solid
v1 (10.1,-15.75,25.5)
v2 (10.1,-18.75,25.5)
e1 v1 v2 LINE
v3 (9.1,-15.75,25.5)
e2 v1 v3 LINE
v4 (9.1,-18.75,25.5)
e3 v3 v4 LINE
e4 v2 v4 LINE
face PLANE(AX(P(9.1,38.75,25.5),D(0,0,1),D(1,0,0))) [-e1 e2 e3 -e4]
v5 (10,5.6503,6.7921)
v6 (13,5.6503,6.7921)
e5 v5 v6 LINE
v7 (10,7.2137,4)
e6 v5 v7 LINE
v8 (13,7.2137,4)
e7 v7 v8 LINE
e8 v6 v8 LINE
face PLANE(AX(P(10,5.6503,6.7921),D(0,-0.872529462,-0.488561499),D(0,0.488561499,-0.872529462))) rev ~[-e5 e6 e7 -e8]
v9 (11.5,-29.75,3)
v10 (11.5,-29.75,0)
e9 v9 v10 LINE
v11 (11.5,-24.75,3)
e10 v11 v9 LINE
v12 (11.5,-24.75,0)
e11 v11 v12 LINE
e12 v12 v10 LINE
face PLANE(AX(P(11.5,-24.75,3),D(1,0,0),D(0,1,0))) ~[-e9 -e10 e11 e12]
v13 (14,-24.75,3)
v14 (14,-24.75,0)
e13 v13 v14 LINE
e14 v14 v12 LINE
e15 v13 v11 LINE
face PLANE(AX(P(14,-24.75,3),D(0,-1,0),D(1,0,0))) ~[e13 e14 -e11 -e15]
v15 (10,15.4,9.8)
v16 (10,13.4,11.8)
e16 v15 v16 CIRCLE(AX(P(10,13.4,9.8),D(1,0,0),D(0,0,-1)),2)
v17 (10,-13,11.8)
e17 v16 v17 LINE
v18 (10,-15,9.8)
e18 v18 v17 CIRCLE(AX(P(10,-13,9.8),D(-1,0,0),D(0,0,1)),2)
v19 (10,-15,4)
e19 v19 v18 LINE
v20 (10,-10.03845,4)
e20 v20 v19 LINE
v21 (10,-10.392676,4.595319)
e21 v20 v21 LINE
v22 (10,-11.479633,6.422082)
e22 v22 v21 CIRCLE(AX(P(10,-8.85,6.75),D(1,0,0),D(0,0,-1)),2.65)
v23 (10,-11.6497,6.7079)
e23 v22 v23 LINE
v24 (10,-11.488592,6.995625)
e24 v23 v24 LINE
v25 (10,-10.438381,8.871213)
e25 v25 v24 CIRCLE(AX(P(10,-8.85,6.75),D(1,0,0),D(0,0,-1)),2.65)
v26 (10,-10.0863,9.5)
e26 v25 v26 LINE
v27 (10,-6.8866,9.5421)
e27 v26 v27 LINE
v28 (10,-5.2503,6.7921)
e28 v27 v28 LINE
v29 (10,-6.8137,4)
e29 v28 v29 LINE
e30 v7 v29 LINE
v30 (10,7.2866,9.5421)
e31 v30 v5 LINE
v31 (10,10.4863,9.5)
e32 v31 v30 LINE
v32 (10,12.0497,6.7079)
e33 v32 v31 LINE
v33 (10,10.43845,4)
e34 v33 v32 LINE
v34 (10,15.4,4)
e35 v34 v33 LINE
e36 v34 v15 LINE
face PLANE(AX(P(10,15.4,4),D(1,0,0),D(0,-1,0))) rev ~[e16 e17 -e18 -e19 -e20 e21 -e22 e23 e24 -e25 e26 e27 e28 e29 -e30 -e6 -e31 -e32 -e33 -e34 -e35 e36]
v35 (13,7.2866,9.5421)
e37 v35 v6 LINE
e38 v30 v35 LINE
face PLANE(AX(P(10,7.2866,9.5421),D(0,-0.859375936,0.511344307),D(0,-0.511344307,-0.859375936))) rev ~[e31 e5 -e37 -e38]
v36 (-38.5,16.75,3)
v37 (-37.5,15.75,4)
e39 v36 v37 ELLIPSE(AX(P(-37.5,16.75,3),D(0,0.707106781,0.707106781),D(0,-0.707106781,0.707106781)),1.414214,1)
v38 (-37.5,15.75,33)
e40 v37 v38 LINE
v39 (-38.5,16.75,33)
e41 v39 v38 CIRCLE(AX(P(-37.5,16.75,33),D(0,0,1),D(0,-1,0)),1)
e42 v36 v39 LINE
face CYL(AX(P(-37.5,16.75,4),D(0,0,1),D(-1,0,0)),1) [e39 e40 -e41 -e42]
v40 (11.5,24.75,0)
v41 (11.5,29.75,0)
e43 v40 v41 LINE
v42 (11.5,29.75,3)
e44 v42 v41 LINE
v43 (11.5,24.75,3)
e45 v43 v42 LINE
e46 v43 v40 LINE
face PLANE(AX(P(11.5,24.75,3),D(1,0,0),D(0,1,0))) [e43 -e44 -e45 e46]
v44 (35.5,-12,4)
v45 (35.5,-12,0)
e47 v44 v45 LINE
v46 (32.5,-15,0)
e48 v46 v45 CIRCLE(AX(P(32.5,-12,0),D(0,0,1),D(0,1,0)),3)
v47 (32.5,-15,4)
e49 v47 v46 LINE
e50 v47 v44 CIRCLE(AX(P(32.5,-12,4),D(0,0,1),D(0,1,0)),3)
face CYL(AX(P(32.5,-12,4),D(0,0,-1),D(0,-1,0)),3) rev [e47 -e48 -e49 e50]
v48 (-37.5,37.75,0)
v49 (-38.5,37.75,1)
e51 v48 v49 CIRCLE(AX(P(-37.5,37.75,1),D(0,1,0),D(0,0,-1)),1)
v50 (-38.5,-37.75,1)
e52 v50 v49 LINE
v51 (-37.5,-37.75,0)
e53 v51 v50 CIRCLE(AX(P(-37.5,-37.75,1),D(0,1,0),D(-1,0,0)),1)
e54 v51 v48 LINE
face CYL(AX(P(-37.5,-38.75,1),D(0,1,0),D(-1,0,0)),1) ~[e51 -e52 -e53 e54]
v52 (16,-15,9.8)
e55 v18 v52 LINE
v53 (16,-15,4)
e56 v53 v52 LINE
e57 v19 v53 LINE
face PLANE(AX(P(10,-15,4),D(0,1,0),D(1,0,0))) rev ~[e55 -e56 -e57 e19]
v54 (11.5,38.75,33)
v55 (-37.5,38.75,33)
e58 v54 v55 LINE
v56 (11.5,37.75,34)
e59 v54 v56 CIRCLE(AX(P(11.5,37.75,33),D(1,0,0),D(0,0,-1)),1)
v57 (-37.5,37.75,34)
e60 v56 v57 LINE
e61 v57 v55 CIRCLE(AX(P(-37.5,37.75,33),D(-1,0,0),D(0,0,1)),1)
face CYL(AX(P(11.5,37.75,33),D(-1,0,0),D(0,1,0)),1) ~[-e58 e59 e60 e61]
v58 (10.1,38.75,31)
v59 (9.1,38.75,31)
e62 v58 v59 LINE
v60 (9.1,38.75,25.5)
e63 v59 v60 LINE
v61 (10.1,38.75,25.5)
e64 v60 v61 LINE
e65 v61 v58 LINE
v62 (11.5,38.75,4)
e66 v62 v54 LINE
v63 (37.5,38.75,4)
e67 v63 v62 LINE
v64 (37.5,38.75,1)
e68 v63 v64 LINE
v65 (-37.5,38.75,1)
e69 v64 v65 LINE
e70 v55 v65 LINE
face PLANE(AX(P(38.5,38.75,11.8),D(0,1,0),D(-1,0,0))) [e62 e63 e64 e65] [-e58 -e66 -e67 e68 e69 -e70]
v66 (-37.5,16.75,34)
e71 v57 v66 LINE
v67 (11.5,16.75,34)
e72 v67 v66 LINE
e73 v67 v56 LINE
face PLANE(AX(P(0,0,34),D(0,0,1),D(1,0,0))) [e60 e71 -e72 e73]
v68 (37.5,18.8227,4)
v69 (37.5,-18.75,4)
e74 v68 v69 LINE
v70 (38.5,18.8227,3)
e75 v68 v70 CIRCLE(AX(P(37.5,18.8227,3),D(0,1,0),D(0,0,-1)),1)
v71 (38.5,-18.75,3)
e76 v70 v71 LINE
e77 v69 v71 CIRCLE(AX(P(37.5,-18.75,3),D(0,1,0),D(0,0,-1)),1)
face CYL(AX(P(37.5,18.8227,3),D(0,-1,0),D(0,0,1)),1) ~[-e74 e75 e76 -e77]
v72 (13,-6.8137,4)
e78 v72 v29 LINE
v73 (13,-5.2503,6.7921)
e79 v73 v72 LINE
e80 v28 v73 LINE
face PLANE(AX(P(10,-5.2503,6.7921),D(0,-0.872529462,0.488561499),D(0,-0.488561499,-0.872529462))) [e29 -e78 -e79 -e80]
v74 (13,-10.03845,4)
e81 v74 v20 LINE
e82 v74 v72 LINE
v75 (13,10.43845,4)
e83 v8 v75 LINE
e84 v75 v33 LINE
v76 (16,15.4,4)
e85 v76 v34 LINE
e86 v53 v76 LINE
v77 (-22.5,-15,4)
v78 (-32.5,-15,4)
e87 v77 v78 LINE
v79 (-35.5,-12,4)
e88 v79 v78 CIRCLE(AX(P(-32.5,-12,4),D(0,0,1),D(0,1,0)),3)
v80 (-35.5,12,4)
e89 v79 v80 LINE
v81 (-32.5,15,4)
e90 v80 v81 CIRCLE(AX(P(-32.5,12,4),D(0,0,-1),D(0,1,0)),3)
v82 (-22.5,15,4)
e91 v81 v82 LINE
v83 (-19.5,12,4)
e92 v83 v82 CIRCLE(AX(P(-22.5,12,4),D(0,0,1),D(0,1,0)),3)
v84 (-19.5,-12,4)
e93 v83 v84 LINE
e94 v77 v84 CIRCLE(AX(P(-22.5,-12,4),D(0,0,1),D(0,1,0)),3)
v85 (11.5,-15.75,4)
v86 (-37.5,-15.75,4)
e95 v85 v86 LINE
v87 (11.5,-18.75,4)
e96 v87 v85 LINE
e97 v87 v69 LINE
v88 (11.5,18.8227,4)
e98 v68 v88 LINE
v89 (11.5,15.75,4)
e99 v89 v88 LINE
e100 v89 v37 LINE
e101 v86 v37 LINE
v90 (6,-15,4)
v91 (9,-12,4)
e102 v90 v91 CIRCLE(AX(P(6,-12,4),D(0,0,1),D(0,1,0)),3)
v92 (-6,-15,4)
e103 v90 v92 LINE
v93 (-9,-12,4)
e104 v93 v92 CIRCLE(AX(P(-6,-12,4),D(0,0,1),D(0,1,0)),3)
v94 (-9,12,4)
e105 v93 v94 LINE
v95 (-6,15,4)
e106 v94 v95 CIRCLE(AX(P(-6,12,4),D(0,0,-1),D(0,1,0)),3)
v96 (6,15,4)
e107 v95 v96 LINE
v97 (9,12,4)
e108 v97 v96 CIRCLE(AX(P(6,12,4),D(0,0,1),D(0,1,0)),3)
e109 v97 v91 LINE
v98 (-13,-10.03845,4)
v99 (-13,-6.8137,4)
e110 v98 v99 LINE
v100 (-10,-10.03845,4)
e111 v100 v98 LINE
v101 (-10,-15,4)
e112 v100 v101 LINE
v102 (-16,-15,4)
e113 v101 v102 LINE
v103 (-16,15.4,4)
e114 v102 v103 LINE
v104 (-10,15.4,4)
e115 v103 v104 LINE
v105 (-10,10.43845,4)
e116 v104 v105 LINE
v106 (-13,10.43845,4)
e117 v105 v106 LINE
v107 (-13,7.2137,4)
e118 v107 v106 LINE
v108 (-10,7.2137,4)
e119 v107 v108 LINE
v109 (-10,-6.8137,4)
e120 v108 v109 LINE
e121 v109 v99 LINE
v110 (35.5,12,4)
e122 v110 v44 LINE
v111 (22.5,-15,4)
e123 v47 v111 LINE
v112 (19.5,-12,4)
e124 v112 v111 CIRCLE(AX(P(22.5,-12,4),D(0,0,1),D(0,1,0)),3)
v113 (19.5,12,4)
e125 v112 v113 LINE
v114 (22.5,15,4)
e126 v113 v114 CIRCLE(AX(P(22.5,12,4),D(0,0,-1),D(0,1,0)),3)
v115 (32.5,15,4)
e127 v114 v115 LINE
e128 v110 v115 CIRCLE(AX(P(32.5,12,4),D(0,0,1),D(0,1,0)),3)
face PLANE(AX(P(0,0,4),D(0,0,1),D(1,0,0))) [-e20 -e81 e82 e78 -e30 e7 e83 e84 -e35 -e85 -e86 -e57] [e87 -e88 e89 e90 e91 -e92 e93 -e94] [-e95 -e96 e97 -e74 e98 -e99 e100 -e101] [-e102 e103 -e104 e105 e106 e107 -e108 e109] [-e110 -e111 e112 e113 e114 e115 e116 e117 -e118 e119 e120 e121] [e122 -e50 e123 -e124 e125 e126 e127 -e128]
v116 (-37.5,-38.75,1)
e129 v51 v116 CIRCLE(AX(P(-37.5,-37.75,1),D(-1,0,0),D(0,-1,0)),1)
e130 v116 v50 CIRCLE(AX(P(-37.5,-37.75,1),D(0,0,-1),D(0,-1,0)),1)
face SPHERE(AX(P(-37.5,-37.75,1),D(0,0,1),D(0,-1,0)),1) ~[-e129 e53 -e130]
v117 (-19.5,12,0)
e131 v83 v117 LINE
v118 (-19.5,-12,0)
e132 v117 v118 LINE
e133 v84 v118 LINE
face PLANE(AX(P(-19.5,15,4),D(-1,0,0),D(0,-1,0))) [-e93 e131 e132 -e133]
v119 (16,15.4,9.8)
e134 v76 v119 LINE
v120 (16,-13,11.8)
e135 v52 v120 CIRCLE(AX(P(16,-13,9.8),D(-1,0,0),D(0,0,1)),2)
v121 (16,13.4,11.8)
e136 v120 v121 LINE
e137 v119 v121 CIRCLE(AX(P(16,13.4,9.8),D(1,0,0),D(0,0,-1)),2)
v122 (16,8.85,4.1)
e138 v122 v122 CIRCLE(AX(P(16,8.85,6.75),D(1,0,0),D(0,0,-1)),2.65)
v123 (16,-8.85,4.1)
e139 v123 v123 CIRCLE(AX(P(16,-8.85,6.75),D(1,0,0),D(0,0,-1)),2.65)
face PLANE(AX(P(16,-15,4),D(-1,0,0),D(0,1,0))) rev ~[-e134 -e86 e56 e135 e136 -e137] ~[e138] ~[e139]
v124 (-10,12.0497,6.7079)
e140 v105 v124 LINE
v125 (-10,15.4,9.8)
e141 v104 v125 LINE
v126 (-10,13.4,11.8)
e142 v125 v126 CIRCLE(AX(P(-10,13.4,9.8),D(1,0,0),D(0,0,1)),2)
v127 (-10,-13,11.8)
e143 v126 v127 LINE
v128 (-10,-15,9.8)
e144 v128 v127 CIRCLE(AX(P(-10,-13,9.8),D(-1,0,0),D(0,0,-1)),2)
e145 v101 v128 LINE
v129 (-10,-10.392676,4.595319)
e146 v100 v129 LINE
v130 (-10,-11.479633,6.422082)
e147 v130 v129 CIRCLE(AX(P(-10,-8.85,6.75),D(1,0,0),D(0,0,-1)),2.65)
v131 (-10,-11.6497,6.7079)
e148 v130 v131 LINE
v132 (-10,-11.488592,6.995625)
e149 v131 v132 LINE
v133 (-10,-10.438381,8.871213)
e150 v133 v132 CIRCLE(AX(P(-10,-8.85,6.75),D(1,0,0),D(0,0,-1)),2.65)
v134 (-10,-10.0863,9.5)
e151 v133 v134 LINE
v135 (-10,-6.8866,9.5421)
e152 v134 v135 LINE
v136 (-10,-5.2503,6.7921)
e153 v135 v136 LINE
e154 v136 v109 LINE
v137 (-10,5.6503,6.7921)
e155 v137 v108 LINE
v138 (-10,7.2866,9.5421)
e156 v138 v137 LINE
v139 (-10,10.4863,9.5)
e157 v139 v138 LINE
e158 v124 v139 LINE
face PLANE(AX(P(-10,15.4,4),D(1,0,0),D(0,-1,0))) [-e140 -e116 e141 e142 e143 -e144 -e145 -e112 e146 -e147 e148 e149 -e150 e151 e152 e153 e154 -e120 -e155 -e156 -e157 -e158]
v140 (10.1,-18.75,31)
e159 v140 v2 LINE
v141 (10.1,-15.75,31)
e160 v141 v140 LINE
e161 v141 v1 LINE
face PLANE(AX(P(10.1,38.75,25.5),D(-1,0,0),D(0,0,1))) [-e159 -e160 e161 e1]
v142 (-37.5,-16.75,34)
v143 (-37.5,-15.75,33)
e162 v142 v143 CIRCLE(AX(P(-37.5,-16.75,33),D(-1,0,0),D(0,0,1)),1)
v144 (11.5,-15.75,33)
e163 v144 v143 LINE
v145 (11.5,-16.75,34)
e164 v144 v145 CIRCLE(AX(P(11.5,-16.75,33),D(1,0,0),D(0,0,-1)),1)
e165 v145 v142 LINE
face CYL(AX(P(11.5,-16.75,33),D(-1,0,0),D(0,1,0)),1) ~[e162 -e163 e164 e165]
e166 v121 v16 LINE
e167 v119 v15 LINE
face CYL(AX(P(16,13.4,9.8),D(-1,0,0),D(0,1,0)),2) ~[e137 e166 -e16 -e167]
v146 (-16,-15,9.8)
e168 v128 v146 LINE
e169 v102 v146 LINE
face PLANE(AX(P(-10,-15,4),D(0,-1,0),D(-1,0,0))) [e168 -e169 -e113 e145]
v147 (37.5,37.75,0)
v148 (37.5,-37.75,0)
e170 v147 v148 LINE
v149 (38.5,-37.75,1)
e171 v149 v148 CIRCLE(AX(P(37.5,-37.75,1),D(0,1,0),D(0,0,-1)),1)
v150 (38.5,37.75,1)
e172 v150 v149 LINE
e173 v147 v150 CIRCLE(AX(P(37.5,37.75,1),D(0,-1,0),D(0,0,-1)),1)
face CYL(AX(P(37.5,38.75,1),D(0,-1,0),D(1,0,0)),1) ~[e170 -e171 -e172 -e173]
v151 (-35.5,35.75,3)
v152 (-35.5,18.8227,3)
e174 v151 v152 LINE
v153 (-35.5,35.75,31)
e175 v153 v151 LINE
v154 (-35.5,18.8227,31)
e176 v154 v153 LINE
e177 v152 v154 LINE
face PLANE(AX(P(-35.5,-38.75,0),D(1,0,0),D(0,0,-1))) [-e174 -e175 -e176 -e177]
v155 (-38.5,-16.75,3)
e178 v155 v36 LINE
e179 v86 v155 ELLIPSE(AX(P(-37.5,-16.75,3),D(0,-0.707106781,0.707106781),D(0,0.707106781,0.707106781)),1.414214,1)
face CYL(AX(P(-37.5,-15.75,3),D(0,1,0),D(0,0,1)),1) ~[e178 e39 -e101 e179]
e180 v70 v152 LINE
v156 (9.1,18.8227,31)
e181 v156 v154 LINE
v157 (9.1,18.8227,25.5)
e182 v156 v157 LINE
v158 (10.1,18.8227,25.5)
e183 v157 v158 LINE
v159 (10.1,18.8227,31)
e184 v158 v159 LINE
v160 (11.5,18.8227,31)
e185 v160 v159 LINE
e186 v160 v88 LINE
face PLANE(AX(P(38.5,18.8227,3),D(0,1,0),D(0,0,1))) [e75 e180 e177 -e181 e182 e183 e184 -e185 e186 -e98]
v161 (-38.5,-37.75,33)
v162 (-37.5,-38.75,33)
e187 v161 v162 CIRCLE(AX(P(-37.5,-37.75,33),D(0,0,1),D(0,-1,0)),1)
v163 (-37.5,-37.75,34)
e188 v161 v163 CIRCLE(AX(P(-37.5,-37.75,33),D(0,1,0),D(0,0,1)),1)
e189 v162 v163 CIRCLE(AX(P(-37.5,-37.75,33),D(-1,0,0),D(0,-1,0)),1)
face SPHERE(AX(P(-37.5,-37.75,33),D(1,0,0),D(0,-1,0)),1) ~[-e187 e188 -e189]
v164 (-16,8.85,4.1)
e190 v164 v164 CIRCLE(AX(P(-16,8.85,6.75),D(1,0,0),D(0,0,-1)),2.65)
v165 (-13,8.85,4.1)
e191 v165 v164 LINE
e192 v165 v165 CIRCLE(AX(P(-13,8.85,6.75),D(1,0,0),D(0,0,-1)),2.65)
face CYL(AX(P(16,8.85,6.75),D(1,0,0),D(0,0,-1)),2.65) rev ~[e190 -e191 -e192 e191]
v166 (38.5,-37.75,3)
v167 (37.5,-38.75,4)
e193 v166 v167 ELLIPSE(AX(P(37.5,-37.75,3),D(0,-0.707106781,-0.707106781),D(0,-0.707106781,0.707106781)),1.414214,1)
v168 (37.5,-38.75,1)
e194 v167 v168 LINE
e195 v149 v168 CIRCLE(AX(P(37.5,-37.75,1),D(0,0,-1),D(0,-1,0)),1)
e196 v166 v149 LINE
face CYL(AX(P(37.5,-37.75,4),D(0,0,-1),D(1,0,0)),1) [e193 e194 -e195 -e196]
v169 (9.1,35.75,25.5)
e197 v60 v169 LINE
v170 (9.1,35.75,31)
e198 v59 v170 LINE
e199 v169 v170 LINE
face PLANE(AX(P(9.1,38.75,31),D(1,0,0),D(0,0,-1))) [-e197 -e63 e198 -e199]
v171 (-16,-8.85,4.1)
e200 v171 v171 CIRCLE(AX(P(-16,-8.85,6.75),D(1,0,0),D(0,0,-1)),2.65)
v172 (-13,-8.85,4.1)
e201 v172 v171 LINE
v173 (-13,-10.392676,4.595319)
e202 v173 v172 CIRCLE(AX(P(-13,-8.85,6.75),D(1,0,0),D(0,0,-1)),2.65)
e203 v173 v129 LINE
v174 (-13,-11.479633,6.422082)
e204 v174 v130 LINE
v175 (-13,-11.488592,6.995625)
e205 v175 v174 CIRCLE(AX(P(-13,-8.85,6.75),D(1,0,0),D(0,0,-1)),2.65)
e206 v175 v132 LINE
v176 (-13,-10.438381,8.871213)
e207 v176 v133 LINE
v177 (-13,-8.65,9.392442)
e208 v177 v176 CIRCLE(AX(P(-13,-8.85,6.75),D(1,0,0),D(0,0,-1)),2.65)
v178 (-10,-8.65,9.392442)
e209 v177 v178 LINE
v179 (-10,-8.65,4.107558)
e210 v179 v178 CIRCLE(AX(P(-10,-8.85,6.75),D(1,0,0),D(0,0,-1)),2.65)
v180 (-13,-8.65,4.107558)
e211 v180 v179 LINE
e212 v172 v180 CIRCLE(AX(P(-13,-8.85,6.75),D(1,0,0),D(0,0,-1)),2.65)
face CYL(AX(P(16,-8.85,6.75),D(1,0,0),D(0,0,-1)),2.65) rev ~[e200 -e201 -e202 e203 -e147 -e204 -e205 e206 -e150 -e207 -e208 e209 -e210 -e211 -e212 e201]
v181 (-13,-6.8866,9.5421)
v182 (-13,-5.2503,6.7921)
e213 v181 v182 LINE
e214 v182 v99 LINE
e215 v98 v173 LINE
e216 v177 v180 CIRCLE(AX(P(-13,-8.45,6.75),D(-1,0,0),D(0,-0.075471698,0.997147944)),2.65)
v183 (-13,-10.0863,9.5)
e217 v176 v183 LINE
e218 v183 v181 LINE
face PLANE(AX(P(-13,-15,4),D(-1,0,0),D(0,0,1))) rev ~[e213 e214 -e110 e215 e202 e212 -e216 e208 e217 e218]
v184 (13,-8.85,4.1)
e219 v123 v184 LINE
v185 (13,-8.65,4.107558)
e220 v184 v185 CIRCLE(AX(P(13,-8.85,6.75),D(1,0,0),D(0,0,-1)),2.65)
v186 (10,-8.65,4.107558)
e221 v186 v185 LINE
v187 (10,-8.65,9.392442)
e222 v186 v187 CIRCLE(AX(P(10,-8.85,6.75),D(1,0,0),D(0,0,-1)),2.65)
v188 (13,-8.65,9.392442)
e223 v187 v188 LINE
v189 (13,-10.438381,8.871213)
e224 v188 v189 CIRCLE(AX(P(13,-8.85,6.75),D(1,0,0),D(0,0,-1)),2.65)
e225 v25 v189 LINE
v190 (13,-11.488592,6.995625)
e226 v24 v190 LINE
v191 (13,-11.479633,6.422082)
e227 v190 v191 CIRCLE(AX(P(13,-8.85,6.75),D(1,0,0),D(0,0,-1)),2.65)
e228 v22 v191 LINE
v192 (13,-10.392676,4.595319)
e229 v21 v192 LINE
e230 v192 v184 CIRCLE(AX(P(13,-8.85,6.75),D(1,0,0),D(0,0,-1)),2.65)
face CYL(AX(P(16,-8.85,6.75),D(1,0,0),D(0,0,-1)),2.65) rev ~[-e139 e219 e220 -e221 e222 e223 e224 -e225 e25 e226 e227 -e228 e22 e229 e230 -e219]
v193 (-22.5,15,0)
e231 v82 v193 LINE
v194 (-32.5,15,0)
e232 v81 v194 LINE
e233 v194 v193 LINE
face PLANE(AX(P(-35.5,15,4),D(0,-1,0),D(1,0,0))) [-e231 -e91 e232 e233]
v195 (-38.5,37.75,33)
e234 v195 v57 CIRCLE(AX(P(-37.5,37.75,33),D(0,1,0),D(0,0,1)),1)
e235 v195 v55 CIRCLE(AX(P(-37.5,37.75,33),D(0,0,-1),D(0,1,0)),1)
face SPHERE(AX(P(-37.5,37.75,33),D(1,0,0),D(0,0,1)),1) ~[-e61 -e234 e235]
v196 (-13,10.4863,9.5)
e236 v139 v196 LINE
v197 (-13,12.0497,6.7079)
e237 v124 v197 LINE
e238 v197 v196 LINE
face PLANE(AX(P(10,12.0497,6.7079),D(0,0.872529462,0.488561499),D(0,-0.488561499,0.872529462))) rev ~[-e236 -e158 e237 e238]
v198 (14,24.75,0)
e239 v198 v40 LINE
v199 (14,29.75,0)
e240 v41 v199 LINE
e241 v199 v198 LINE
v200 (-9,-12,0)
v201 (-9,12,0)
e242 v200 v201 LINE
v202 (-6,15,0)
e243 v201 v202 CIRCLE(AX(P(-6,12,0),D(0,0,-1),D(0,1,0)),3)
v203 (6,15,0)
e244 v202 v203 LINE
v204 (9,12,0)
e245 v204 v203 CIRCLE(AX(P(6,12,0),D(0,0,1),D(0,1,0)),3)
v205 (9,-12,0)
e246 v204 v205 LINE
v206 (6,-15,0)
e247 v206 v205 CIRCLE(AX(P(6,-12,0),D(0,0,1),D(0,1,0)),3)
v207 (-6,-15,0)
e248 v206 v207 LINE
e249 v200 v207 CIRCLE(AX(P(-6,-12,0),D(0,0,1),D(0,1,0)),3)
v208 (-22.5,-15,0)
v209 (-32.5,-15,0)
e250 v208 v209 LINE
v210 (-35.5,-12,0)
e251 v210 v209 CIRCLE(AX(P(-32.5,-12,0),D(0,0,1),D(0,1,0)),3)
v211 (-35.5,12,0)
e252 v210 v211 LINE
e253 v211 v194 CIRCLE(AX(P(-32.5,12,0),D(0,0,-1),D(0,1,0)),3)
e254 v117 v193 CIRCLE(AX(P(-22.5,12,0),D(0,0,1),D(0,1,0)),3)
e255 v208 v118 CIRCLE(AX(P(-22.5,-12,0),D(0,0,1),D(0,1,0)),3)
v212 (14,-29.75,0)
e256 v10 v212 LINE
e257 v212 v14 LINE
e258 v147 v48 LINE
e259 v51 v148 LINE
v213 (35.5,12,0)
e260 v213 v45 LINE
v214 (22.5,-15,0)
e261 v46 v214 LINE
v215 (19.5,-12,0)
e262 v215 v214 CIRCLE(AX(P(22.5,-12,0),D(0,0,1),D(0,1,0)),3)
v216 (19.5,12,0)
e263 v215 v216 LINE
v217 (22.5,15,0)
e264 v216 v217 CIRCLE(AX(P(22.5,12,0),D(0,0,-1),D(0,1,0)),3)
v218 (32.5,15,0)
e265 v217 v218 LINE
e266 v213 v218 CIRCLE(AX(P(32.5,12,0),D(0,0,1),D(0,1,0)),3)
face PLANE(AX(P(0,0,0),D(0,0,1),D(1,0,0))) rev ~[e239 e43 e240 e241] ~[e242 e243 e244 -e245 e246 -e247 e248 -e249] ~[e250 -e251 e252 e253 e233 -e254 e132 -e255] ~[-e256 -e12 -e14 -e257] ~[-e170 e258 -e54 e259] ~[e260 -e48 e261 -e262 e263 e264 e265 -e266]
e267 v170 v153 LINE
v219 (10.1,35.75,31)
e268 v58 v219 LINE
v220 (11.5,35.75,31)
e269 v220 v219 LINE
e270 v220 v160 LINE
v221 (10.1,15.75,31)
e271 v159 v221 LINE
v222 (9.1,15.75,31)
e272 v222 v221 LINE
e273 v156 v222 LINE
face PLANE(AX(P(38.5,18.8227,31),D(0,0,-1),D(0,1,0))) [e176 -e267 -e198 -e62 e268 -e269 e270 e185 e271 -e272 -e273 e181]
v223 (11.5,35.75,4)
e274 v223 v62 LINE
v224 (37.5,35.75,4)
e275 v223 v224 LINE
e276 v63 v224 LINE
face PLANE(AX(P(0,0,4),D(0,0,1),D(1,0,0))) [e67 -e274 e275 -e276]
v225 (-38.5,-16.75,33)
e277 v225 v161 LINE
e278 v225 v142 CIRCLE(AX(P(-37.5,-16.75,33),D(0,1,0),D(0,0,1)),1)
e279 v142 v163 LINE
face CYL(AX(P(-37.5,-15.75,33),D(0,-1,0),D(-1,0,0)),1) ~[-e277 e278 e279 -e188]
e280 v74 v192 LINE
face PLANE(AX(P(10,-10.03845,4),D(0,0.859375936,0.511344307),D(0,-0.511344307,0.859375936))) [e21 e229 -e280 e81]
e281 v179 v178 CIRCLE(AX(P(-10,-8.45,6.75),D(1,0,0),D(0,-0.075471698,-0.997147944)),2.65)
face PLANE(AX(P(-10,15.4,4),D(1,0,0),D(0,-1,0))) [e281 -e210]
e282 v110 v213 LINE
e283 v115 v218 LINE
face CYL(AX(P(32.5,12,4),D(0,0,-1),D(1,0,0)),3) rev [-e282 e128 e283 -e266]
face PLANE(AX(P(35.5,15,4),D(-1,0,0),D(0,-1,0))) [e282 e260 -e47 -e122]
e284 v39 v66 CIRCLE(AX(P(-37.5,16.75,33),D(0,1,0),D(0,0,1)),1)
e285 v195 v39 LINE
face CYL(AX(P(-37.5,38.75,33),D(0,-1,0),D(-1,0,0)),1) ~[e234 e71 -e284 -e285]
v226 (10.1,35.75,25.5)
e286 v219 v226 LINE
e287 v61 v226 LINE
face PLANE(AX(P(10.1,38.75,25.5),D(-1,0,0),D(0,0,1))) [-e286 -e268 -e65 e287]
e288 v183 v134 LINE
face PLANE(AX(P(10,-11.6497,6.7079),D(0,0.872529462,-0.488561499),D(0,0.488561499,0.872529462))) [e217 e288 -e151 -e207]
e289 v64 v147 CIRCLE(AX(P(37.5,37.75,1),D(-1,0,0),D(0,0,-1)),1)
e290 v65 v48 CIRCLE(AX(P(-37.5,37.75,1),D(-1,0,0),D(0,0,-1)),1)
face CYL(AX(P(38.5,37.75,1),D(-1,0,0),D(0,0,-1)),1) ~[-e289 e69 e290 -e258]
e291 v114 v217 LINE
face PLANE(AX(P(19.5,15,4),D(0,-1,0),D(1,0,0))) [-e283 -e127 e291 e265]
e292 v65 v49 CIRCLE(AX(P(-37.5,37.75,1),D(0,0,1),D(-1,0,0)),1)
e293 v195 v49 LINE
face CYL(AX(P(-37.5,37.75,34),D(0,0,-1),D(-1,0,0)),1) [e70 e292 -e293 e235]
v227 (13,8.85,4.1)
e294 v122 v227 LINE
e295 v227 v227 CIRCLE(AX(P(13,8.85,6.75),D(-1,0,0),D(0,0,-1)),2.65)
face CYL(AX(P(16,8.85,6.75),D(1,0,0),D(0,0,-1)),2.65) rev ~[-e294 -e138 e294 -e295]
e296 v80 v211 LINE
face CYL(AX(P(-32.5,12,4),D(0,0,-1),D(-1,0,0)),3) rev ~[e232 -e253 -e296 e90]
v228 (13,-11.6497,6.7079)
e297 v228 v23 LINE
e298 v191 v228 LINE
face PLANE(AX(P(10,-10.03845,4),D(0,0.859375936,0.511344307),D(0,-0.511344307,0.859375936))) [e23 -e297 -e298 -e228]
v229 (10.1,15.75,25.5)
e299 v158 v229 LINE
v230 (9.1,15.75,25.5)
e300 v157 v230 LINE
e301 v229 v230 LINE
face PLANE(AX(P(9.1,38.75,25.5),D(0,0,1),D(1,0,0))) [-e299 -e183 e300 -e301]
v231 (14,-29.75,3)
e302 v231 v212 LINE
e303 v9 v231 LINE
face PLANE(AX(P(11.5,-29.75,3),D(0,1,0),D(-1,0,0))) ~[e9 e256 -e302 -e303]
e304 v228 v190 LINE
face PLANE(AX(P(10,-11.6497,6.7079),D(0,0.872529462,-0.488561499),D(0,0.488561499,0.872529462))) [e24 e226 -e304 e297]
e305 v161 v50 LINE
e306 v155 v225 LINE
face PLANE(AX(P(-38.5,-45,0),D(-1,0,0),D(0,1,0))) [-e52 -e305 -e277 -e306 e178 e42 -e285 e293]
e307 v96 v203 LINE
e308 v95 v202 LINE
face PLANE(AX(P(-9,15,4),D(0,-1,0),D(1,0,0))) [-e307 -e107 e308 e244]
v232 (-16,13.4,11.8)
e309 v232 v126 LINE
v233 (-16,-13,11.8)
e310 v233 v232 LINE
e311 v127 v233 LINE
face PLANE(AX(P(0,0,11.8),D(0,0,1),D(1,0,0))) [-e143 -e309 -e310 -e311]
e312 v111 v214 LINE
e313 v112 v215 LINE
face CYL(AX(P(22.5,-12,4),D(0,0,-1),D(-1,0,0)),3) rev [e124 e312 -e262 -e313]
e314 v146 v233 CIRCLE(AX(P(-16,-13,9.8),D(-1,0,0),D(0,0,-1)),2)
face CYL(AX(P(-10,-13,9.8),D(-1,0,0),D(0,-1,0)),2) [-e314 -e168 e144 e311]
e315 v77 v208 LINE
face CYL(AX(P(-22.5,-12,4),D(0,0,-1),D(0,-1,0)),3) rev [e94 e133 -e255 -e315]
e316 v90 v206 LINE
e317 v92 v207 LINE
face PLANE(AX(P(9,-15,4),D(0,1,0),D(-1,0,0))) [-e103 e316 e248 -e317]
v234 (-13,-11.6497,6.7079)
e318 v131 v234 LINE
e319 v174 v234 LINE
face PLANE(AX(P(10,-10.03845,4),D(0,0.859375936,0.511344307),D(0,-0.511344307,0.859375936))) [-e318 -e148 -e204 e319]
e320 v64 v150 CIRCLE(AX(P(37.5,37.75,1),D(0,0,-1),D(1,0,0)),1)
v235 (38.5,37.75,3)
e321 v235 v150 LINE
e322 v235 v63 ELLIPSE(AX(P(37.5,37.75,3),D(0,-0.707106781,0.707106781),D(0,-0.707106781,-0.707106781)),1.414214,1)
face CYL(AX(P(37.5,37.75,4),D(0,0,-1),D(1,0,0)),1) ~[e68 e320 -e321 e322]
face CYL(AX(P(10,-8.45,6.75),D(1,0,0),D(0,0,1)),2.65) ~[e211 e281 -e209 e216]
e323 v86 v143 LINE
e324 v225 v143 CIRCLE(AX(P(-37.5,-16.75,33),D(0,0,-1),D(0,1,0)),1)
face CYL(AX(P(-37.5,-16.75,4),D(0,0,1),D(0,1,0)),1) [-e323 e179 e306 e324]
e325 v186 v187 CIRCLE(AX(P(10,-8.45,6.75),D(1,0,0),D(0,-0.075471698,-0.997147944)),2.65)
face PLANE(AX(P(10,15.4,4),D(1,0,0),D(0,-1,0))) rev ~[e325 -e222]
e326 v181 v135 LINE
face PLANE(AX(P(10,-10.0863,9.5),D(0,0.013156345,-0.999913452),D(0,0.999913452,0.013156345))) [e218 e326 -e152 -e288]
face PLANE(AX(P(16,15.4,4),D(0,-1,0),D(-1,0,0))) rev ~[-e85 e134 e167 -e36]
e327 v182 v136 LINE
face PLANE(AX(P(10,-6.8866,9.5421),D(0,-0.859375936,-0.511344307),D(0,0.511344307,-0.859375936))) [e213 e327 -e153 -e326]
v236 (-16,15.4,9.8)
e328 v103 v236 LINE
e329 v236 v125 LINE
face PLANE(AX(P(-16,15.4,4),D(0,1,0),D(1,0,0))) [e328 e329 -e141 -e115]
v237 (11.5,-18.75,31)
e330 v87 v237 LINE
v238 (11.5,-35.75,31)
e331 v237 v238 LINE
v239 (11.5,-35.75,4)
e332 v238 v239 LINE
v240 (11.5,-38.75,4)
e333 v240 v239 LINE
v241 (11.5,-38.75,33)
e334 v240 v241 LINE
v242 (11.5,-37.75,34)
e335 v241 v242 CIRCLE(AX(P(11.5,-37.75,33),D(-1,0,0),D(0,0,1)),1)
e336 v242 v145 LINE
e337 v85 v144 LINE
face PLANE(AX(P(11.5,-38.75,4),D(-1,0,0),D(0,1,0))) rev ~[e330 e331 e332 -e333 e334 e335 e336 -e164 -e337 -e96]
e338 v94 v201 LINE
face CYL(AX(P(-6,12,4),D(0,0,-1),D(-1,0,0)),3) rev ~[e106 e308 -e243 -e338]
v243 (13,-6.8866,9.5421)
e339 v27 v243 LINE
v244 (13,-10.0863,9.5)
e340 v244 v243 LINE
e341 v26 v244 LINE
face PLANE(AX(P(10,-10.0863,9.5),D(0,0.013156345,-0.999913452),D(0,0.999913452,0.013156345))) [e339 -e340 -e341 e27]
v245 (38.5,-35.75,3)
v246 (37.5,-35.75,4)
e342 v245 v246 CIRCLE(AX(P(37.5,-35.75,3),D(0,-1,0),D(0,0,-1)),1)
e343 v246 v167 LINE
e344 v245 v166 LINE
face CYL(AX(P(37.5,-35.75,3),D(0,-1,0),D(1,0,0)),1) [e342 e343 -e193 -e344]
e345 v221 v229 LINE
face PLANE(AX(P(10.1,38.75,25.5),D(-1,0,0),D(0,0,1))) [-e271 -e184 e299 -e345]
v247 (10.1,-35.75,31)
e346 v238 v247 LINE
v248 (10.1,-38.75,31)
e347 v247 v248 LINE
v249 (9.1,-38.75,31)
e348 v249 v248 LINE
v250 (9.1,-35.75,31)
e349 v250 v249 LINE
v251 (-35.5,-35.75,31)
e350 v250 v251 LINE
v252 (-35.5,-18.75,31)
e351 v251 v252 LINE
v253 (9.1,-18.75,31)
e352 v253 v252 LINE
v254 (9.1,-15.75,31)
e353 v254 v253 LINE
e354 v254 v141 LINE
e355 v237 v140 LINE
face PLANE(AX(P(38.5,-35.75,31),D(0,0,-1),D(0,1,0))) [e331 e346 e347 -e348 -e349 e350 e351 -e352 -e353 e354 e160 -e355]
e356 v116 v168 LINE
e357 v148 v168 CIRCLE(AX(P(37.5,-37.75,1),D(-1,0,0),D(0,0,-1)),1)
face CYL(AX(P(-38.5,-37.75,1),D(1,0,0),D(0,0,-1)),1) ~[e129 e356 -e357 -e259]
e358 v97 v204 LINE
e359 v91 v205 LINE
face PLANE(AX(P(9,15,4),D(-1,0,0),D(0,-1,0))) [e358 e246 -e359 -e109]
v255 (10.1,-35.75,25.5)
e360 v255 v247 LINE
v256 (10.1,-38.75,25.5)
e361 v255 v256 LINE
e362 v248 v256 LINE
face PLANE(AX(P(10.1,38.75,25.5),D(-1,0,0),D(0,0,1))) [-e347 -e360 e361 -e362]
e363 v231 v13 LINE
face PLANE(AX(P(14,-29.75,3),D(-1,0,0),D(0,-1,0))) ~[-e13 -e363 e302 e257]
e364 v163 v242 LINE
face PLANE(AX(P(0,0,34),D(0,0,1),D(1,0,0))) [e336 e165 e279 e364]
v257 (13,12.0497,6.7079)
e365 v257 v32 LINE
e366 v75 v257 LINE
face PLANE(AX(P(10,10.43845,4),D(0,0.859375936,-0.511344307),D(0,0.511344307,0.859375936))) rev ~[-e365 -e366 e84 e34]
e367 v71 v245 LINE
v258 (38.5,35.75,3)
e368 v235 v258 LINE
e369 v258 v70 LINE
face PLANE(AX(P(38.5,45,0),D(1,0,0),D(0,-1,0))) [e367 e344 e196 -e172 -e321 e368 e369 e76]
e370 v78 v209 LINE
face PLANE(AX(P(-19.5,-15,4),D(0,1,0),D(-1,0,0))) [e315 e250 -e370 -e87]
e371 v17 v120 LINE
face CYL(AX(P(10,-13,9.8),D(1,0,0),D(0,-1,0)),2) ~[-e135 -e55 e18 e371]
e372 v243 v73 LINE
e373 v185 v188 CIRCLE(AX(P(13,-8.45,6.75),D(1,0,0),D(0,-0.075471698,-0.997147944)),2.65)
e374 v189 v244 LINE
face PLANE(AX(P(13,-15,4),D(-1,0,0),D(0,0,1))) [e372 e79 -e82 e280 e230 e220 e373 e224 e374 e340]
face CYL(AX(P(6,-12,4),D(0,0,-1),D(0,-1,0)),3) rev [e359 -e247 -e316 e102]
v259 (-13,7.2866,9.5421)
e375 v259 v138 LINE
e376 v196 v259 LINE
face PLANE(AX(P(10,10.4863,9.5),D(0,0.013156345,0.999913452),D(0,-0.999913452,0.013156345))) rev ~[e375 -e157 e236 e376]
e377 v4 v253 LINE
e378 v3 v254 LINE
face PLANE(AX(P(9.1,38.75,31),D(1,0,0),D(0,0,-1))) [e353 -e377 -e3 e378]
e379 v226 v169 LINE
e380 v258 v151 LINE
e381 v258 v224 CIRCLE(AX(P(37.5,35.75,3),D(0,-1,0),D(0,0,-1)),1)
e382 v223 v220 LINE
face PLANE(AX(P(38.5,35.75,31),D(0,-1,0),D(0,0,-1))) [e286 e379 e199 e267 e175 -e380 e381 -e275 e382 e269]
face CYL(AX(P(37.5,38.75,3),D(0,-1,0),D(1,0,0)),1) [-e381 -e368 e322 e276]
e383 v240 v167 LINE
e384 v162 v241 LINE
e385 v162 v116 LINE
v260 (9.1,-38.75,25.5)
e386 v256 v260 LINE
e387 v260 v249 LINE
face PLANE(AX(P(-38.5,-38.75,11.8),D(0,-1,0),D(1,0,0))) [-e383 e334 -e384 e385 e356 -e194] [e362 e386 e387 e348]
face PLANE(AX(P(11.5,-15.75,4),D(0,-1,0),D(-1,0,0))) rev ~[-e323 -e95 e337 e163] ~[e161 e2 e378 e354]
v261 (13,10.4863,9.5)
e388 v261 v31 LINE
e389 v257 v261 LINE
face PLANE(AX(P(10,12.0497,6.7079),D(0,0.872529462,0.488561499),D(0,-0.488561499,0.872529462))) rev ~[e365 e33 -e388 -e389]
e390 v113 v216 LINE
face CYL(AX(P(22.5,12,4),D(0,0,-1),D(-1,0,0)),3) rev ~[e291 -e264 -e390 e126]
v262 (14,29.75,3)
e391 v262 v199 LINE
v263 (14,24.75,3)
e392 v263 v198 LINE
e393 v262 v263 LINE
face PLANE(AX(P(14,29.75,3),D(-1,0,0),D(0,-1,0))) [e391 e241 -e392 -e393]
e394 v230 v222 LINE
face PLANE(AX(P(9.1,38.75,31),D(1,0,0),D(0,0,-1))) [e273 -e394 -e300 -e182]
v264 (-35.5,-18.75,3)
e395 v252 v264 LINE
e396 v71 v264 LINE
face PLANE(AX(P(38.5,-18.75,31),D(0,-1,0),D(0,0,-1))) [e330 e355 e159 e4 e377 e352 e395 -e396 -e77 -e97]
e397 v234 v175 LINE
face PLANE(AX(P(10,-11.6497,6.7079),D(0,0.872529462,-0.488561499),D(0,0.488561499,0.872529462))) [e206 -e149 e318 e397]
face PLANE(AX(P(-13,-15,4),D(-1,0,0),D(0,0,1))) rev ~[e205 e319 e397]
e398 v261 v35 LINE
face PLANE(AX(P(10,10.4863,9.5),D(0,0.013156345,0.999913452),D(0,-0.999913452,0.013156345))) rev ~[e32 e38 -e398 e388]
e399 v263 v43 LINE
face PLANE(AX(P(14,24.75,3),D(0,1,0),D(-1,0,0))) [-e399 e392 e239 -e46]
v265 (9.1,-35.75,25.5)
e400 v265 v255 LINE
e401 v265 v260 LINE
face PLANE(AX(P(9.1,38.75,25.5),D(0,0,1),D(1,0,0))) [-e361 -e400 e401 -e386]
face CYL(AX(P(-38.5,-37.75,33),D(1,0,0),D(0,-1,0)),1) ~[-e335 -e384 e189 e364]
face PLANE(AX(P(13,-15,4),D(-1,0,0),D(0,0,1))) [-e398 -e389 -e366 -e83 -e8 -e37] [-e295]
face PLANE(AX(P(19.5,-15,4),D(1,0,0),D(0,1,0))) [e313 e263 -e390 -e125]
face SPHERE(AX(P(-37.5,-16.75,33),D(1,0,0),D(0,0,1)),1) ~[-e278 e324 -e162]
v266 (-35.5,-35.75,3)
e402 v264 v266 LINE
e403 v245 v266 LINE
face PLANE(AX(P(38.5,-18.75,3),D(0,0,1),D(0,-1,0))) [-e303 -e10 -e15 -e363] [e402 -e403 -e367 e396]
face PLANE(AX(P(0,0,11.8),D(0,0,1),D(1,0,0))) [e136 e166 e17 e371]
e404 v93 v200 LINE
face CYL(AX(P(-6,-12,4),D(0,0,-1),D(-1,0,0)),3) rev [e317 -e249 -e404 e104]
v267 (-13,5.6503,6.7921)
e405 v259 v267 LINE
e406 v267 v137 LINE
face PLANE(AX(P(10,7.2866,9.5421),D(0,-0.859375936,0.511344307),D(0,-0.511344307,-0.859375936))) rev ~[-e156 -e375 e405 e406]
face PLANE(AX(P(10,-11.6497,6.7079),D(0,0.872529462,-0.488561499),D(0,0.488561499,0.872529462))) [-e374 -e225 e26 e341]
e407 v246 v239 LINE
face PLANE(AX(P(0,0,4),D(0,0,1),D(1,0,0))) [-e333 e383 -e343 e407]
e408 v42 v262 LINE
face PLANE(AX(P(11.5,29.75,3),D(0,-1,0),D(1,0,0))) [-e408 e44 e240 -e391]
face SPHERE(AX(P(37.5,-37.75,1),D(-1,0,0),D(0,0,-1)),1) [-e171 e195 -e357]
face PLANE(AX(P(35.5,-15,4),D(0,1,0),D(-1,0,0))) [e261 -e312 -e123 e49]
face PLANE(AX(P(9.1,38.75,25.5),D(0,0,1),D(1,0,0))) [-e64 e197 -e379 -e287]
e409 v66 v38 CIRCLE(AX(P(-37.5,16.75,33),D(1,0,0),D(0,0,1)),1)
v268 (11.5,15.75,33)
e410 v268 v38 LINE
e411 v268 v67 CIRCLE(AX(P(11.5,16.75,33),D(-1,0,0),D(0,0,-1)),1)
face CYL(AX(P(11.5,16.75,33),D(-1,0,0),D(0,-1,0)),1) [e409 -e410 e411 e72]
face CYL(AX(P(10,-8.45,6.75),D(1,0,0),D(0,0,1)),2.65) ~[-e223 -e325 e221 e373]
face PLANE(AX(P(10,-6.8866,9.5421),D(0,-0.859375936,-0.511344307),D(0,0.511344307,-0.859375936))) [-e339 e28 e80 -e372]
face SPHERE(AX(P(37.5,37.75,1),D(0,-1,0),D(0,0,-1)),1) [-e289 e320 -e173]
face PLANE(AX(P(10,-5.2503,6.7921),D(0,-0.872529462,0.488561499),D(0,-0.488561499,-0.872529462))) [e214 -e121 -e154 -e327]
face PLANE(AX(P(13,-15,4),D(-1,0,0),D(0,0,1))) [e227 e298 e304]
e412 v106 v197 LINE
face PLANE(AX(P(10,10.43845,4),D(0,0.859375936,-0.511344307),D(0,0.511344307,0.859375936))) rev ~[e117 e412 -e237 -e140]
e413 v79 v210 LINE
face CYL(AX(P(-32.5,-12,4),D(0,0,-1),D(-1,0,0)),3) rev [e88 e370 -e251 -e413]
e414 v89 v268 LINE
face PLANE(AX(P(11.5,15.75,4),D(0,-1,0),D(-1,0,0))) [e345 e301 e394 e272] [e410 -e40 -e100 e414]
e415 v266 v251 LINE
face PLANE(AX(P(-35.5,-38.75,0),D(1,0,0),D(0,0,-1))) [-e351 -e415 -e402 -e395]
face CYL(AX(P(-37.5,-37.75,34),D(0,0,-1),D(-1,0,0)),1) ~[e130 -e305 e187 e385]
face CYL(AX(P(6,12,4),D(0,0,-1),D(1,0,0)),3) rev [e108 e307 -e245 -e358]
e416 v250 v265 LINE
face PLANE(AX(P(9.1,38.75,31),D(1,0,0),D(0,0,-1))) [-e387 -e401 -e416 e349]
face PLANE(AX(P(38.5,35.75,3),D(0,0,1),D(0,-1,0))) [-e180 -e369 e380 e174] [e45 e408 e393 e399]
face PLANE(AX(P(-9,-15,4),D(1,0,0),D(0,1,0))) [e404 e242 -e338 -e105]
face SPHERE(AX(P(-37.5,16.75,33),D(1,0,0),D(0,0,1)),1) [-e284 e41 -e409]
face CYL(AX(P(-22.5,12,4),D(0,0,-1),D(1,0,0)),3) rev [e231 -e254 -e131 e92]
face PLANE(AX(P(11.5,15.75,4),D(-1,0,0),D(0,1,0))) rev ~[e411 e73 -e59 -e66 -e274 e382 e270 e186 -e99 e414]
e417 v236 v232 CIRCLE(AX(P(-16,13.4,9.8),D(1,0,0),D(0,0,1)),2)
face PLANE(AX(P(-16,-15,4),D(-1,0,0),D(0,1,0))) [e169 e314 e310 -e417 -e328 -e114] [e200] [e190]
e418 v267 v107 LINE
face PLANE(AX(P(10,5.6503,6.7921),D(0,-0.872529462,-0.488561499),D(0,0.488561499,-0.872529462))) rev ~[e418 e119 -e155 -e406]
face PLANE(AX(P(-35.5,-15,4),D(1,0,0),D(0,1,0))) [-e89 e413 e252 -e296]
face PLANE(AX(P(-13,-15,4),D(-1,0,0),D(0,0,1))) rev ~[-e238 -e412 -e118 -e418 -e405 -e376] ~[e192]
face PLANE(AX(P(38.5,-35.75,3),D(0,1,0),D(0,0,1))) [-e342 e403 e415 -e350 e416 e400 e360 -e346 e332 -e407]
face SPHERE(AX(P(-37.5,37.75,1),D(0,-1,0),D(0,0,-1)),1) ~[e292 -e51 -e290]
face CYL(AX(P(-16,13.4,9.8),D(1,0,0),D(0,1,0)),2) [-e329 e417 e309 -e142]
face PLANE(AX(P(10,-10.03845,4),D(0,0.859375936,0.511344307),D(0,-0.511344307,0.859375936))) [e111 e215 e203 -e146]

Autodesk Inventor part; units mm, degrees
ref_plane "YZ Plane" through (0, 0, 0) normal (1, 0, 0) x (0, 1, 0)
ref_plane "XZ Plane" through (0, 0, 0) normal (0, 1, 0) x (-1, 0, 0)
sketch "Sketch1" plane through (0, 0, 0) normal (0, 0, 1) x (1, 0, 0)
  line L0 (-38.5, 45) -> (38.5, 45)
  line L1 (38.5, 45) -> (38.5, -45)
  line L2 (38.5, -45) -> (-38.5, -45)
  line L3 (-38.5, -45) -> (-38.5, 45)
  line L4 (-38.5, 45) -> (38.5, -45) construction
  line L5 (38.5, 45) -> (-38.5, -45) construction
  point P0 (0, 0)
  dimension "d0" = 90
  dimension "d1" = 77
extrude "Extrusion1" add sketch "Sketch1" along normal blind 4
fillet "Fillet1" radius 4 4 edges at (-38.5, 45, 2) (-38.5, -45, 2) (38.5, 45, 2) (38.5, -45, 2)
sketch "Sketch15" plane through (0, 0, 4) normal (0, 0, 1) x (1, 0, 0)
  line L0 (34.5, 45) -> (-34.5, 45) construction
  line L1 (0, 45) -> (0, -45) construction
  line L2 (-34.5, -45) -> (34.5, -45) construction
  line L3 (-16, 15.4) -> (-10, 15.4)
  line L4 (-10, 15.4) -> (-10, -15)
  line L5 (-10, -15) -> (-16, -15)
  line L6 (-16, -15) -> (-16, 15.4)
  line L7 (-16, 15.4) -> (-10, -15) construction
  line L8 (-10, 15.4) -> (-16, -15) construction
  line L9 (16, 15.4) -> (10, 15.4)
  line L10 (10, 15.4) -> (10, -15)
  line L11 (10, -15) -> (16, -15)
  line L12 (16, -15) -> (16, 15.4)
  point P0 (-13, 0.2)
  dimension "d83" = 6
  dimension "d84" = 30.4
  dimension "d85" = 30
  dimension "d86" = 10
extrude "Extrusion13" add sketch "Sketch15" along normal blind 7.8
sketch "Sketch16" plane through (16, -15.2, 4) normal (1, 0, 0) x (0, 0, -1)
  circle A0 centre (-2.75, 24.05) radius 2.65
  line L0 (-7.8, 0) -> (-7.8, 30.4) projected
  line L1 (0, 30.4) -> (-7.8, 30.4) projected
  line L2 (-7.8, 40.4) -> (-7.8, -10) construction
  line L3 (-7.8, 15.2) -> (0, 15.2) construction
  line L4 (0, -25.8) -> (0, 56.2) construction
  circle A1 centre (-2.75, 6.35) radius 2.65
  point P0 (4, 15.2)
  dimension "d62" = 5.05
  dimension "d63" = 6.35
  dimension "d64" = 5.3
extrude "Extrusion14" cut sketch "Sketch16" against normal up to surface (32 mm away)
ref_plane "Work Plane2" through (17.25, -10.5, 0) normal (-1, 0, 0) x (0, 0, 1)
sketch "Sketch18" plane through (0, 0, 11.8) normal (0, 0, 1) x (1, 0, 0)
  line L0 (38.5, -41) -> (38.5, 41) projected
  line L1 (-38.5, -38.75) -> (38.5, -38.75)
  line L2 (38.5, -38.75) -> (38.5, 38.75)
  line L3 (38.5, 38.75) -> (-38.5, 38.75)
  line L4 (-38.5, 38.75) -> (-38.5, -38.75)
  line L5 (-38.5, -38.75) -> (38.5, 38.75) construction
  line L6 (38.5, -38.75) -> (-38.5, 38.75) construction
  line L7 (-38.5, -45.0251) -> (38.5, -45.0251)
  line L8 (38.5, -45.0251) -> (38.5, 45.0251)
  line L9 (38.5, 45.0251) -> (-38.5, 45.0251)
  line L10 (-38.5, 45.0251) -> (-38.5, -45.0251)
  line L11 (-38.5, -45.0251) -> (38.5, 45.0251) construction
  line L12 (38.5, -45.0251) -> (-38.5, 45.0251) construction
  point P0 (0, 0)
  point P1 (-38.5, 38.75)
  point P2 (-38.5, -38.75)
  dimension "d76" = 77.5
extrude "Extrusion16" cut sketch "Sketch18" against normal through all contours L8 L7 L10 L1 L0 | L3 L10 L9 L8 L0
sketch "Sketch19" plane through (10, -15, 4) normal (-1, 0, 0) x (0, 0, 1)
  circle A0 centre (2.75, 23.85) radius 2.65 projected
  circle A1 centre (2.75, 23.85) radius 3.2
  line L0 (0, 0) -> (0, 30.4) projected
  line L1 (0, 22.2137) -> (-0.0421, 25.4134)
  line L2 (-0.0421, 25.4134) -> (2.7079, 27.0497)
  line L3 (2.7079, 27.0497) -> (5.5, 25.4863)
  line L4 (5.5, 25.4863) -> (5.5421, 22.2866)
  line L5 (5.5421, 22.2866) -> (2.7921, 20.6503)
  line L6 (2.7921, 20.6503) -> (0, 22.2137)
  line L7 (0, 15.2) -> (7.8, 15.2)
  line L8 (7.8, 30.4) -> (7.8, 0) projected
  circle A2 centre (2.75, 6.55) radius 2.65
  circle A3 centre (2.75, 6.55) radius 3.2
  line L9 (0, 30.4) -> (0, 0.4)
  line L10 (-0.0421, 4.9866) -> (2.7079, 3.3503)
  line L11 (2.7079, 3.3503) -> (5.5, 4.9137)
  line L12 (5.5, 4.9137) -> (5.5421, 8.1134)
  line L13 (5.5421, 8.1134) -> (2.7921, 9.7497)
  line L14 (2.7921, 9.7497) -> (0, 8.1863)
  point P0 (-4, 15)
  point P1 (0, 30)
  point P2 (7.8, 30)
  point P3 (0, 8.1863)
  point P4 (0, 4.9615)
  point P5 (0, 25.4385)
  dimension "d87" = 6.4
extrude "Extrusion17" cut sketch "Sketch19" along normal blind 23 and the other way blind 3 contours L14 L13 L12 L11 L10 L0 | L4 L5 L6 L0 L2 L3
fillet "Fillet3" radius 2 4 edges at (13, -15, 11.8) (-13, -15, 11.8) (13, 15.4, 11.8) (-13, 15.4, 11.8)
sketch "Sketch25" plane through (0, 0, 4) normal (0, 0, 1) x (1, 0, 0)
  line L0 (-38.5, -38.75) -> (38.5, -38.75) projected
  line L1 (38.5, -38.75) -> (38.5, 38.75) projected
  line L2 (-38.5, -38.75) -> (38.5, -38.75)
  line L3 (38.5, -38.75) -> (38.5, 38.75)
  line L4 (38.5, 38.75) -> (-38.5, 38.75)
  line L5 (-38.5, 38.75) -> (-38.5, -38.75)
  line L6 (-38.5, 38.75) -> (-38.5, -38.75) projected
  line L7 (-38.5, -38.75) -> (38.5, -38.75)
  line L8 (38.5, -38.75) -> (38.5, -15.75)
  line L9 (38.5, -15.75) -> (-38.5, -15.75)
  line L10 (-38.5, -15.75) -> (-38.5, -38.75)
  line L11 (-38.5, 38.75) -> (38.5, 38.75)
  line L12 (38.5, 38.75) -> (38.5, 15.75)
  line L13 (38.5, 15.75) -> (-38.5, 15.75)
  line L14 (-38.5, 15.75) -> (-38.5, 38.75)
  line L15 (11.5, -38.75) -> (11.5, -15.75)
  line L16 (11.5, 15.75) -> (11.5, 38.75)
  point P0 (0, 0)
  point P1 (38.5, -15.75)
  point P2 (-38.5, -15.75)
  dimension "d113" = 23
  dimension "d114" = 23
  dimension "d133" = 50
  dimension "d134" = 50
extrude "Extrusion23" add sketch "Sketch25" along normal blind 30 contours L5 L9 L15 L0 | L5 L4 L16 L13
sketch "Sketch26" plane through (38.5, -38.75, 0) normal (1, 0, 0) x (0, 0, -1)
  line L0 (-34, 77.5) -> (-34, 54.5) projected
  line L1 (0, 77.5) -> (0, 0) projected
  line L2 (-34, 77.5) -> (0, 77.5)
  line L3 (0, 77.5) -> (0, 54.5727)
  line L4 (0, 54.5727) -> (-34, 54.5727)
  line L5 (-34, 54.5727) -> (-34, 77.5)
  line L6 (-4, 23) -> (-34, 23) projected
  line L7 (0, 0) -> (-34, 0) projected
  line L8 (-34, 23) -> (0, 23)
  line L9 (0, 23) -> (0, 0)
  line L10 (0, 0) -> (-34, 0)
  line L11 (-34, 0) -> (-34, 23)
  line L12 (-31, 20) -> (-3, 20)
  line L13 (-3, 20) -> (-3, 3)
  line L14 (-3, 3) -> (-31, 3)
  line L15 (-31, 3) -> (-31, 20)
  line L16 (-31, 74.5) -> (-3, 74.5)
  line L17 (-3, 74.5) -> (-3, 57.5727)
  line L18 (-3, 57.5727) -> (-31, 57.5727)
  line L19 (-31, 57.5727) -> (-31, 74.5)
  point P0 (0, 38.75)
  dimension "d117" = 3
  dimension "d118" = 3
extrude "Extrusion24" cut sketch "Sketch26" against normal blind 74 contours L12 L13 L14 L15 | L16 L17 L18 L19
fillet "Fillet6" radius 1 20 edges at (-13.5, -38.75, 34) (-38.5, -38.75, 17) (0, -38.75, 0) (-38.5, 0, 0) (38.5, 0, 0) (0, 38.75, 0) (38.5, 0.0364, 4) (38.5, 37.25, 4) (38.5, -37.25, 4) (38.5, -38.75, 2) (38.5, 38.75, 2) (-13.5, 15.75, 34) (-13.5, -15.75, 34) (-13.5, 38.75, 34) (-38.5, -27.25, 34) (-38.5, -15.75, 19) (-38.5, 27.25, 34) (-38.5, 38.75, 17) (-38.5, 15.75, 19) (-38.5, 0, 4)
sketch "Sketch27" plane through (0, 0, 4) normal (0, 0, 1) x (1, 0, 0)
  line L0 (-9, 15) -> (9, 15)
  line L1 (9, 15) -> (9, -15)
  line L2 (9, -15) -> (-9, -15)
  line L3 (-9, -15) -> (-9, 15)
  line L4 (-9, 15) -> (9, -15) construction
  line L5 (9, 15) -> (-9, -15) construction
  line L6 (-35.5, 15) -> (-19.5, 15)
  line L7 (-19.5, 15) -> (-19.5, -15)
  line L8 (-19.5, -15) -> (-35.5, -15)
  line L9 (-35.5, -15) -> (-35.5, 15)
  line L10 (-35.5, 15) -> (-19.5, -15) construction
  line L11 (-19.5, 15) -> (-35.5, -15) construction
  line L12 (-16, 13.4) -> (-16, -13) projected
  line L13 (19.5, 15) -> (35.5, 15)
  line L14 (35.5, 15) -> (35.5, -15)
  line L15 (35.5, -15) -> (19.5, -15)
  line L16 (19.5, -15) -> (19.5, 15)
  line L17 (19.5, 15) -> (35.5, -15) construction
  line L18 (35.5, 15) -> (19.5, -15) construction
  line L19 (16, -13) -> (16, 13.4) projected
  point P0 (0, 0)
  point P1 (-27.5, 0)
  point P2 (27.5, 0)
  dimension "d122" = 18
  dimension "d123" = 30
  dimension "d124" = 16
  dimension "d125" = 30
  dimension "d126" = 3.5
  dimension "d127" = 16
  dimension "d128" = 30
  dimension "d129" = 3.5
extrude "Extrusion25" cut sketch "Sketch27" against normal up to surface (4 mm away)
fillet "Fillet7" radius 3 12 edges at (-19.5, 15, 2) (-35.5, 15, 2) (-35.5, -15, 2) (-19.5, -15, 2) (9, -15, 2) (35.5, -15, 2) (-9, -15, 2) (-9, 15, 2) (9, 15, 2) (19.5, 15, 2) (35.5, 15, 2) (19.5, -15, 2)
sketch "Sketch28" plane through (-35.5, 18.8227, 3) normal (0, 0, 1) x (1, 0, 0)
  line L0 (47, 0) -> (47, 16.9273) projected
  line L1 (47, 10.9273) -> (49.5, 10.9273)
  line L2 (49.5, 10.9273) -> (49.5, 5.9273)
  line L3 (49.5, 5.9273) -> (47, 5.9273)
  line L4 (47, 5.9273) -> (47, 10.9273)
  line L5 (73, 19.9273) -> (47, 19.9273) projected
  point P0 (35.5, -18.8227)
  point P1 (47, 5.9273)
  dimension "d135" = 5
  dimension "d136" = 2.5
  dimension "d137" = 9
extrude "Extrusion26" cut sketch "Sketch28" against normal through all
sketch "Sketch29" plane through (-37.5, 38.75, 1) normal (0, 1, 0) x (1, 0, 0)
  line L0 (47.6, -30) -> (46.6, -30)
  line L1 (46.6, -30) -> (46.6, -24.5)
  line L2 (46.6, -24.5) -> (47.6, -24.5)
  line L3 (47.6, -24.5) -> (47.6, -30)
  line L4 (49, -3) -> (49, -32) projected
  line L5 (0, -33) -> (49, -33) projected
  point P0 (37.5, 1)
  dimension "d140" = 1
  dimension "d141" = 5.5
  dimension "d142" = 1.4
  dimension "d143" = 3
extrude "Extrusion27" cut sketch "Sketch29" against normal through all
ref_plane "Work Plane3" through (-37.5, 0, 1) normal (0, 1, 0) x (1, 0, 0)
mirror "Mirror2" about plane through (-37.5, 0, 1) normal (0, 1, 0) of "Extrusion26"
properties part number "base_s"
